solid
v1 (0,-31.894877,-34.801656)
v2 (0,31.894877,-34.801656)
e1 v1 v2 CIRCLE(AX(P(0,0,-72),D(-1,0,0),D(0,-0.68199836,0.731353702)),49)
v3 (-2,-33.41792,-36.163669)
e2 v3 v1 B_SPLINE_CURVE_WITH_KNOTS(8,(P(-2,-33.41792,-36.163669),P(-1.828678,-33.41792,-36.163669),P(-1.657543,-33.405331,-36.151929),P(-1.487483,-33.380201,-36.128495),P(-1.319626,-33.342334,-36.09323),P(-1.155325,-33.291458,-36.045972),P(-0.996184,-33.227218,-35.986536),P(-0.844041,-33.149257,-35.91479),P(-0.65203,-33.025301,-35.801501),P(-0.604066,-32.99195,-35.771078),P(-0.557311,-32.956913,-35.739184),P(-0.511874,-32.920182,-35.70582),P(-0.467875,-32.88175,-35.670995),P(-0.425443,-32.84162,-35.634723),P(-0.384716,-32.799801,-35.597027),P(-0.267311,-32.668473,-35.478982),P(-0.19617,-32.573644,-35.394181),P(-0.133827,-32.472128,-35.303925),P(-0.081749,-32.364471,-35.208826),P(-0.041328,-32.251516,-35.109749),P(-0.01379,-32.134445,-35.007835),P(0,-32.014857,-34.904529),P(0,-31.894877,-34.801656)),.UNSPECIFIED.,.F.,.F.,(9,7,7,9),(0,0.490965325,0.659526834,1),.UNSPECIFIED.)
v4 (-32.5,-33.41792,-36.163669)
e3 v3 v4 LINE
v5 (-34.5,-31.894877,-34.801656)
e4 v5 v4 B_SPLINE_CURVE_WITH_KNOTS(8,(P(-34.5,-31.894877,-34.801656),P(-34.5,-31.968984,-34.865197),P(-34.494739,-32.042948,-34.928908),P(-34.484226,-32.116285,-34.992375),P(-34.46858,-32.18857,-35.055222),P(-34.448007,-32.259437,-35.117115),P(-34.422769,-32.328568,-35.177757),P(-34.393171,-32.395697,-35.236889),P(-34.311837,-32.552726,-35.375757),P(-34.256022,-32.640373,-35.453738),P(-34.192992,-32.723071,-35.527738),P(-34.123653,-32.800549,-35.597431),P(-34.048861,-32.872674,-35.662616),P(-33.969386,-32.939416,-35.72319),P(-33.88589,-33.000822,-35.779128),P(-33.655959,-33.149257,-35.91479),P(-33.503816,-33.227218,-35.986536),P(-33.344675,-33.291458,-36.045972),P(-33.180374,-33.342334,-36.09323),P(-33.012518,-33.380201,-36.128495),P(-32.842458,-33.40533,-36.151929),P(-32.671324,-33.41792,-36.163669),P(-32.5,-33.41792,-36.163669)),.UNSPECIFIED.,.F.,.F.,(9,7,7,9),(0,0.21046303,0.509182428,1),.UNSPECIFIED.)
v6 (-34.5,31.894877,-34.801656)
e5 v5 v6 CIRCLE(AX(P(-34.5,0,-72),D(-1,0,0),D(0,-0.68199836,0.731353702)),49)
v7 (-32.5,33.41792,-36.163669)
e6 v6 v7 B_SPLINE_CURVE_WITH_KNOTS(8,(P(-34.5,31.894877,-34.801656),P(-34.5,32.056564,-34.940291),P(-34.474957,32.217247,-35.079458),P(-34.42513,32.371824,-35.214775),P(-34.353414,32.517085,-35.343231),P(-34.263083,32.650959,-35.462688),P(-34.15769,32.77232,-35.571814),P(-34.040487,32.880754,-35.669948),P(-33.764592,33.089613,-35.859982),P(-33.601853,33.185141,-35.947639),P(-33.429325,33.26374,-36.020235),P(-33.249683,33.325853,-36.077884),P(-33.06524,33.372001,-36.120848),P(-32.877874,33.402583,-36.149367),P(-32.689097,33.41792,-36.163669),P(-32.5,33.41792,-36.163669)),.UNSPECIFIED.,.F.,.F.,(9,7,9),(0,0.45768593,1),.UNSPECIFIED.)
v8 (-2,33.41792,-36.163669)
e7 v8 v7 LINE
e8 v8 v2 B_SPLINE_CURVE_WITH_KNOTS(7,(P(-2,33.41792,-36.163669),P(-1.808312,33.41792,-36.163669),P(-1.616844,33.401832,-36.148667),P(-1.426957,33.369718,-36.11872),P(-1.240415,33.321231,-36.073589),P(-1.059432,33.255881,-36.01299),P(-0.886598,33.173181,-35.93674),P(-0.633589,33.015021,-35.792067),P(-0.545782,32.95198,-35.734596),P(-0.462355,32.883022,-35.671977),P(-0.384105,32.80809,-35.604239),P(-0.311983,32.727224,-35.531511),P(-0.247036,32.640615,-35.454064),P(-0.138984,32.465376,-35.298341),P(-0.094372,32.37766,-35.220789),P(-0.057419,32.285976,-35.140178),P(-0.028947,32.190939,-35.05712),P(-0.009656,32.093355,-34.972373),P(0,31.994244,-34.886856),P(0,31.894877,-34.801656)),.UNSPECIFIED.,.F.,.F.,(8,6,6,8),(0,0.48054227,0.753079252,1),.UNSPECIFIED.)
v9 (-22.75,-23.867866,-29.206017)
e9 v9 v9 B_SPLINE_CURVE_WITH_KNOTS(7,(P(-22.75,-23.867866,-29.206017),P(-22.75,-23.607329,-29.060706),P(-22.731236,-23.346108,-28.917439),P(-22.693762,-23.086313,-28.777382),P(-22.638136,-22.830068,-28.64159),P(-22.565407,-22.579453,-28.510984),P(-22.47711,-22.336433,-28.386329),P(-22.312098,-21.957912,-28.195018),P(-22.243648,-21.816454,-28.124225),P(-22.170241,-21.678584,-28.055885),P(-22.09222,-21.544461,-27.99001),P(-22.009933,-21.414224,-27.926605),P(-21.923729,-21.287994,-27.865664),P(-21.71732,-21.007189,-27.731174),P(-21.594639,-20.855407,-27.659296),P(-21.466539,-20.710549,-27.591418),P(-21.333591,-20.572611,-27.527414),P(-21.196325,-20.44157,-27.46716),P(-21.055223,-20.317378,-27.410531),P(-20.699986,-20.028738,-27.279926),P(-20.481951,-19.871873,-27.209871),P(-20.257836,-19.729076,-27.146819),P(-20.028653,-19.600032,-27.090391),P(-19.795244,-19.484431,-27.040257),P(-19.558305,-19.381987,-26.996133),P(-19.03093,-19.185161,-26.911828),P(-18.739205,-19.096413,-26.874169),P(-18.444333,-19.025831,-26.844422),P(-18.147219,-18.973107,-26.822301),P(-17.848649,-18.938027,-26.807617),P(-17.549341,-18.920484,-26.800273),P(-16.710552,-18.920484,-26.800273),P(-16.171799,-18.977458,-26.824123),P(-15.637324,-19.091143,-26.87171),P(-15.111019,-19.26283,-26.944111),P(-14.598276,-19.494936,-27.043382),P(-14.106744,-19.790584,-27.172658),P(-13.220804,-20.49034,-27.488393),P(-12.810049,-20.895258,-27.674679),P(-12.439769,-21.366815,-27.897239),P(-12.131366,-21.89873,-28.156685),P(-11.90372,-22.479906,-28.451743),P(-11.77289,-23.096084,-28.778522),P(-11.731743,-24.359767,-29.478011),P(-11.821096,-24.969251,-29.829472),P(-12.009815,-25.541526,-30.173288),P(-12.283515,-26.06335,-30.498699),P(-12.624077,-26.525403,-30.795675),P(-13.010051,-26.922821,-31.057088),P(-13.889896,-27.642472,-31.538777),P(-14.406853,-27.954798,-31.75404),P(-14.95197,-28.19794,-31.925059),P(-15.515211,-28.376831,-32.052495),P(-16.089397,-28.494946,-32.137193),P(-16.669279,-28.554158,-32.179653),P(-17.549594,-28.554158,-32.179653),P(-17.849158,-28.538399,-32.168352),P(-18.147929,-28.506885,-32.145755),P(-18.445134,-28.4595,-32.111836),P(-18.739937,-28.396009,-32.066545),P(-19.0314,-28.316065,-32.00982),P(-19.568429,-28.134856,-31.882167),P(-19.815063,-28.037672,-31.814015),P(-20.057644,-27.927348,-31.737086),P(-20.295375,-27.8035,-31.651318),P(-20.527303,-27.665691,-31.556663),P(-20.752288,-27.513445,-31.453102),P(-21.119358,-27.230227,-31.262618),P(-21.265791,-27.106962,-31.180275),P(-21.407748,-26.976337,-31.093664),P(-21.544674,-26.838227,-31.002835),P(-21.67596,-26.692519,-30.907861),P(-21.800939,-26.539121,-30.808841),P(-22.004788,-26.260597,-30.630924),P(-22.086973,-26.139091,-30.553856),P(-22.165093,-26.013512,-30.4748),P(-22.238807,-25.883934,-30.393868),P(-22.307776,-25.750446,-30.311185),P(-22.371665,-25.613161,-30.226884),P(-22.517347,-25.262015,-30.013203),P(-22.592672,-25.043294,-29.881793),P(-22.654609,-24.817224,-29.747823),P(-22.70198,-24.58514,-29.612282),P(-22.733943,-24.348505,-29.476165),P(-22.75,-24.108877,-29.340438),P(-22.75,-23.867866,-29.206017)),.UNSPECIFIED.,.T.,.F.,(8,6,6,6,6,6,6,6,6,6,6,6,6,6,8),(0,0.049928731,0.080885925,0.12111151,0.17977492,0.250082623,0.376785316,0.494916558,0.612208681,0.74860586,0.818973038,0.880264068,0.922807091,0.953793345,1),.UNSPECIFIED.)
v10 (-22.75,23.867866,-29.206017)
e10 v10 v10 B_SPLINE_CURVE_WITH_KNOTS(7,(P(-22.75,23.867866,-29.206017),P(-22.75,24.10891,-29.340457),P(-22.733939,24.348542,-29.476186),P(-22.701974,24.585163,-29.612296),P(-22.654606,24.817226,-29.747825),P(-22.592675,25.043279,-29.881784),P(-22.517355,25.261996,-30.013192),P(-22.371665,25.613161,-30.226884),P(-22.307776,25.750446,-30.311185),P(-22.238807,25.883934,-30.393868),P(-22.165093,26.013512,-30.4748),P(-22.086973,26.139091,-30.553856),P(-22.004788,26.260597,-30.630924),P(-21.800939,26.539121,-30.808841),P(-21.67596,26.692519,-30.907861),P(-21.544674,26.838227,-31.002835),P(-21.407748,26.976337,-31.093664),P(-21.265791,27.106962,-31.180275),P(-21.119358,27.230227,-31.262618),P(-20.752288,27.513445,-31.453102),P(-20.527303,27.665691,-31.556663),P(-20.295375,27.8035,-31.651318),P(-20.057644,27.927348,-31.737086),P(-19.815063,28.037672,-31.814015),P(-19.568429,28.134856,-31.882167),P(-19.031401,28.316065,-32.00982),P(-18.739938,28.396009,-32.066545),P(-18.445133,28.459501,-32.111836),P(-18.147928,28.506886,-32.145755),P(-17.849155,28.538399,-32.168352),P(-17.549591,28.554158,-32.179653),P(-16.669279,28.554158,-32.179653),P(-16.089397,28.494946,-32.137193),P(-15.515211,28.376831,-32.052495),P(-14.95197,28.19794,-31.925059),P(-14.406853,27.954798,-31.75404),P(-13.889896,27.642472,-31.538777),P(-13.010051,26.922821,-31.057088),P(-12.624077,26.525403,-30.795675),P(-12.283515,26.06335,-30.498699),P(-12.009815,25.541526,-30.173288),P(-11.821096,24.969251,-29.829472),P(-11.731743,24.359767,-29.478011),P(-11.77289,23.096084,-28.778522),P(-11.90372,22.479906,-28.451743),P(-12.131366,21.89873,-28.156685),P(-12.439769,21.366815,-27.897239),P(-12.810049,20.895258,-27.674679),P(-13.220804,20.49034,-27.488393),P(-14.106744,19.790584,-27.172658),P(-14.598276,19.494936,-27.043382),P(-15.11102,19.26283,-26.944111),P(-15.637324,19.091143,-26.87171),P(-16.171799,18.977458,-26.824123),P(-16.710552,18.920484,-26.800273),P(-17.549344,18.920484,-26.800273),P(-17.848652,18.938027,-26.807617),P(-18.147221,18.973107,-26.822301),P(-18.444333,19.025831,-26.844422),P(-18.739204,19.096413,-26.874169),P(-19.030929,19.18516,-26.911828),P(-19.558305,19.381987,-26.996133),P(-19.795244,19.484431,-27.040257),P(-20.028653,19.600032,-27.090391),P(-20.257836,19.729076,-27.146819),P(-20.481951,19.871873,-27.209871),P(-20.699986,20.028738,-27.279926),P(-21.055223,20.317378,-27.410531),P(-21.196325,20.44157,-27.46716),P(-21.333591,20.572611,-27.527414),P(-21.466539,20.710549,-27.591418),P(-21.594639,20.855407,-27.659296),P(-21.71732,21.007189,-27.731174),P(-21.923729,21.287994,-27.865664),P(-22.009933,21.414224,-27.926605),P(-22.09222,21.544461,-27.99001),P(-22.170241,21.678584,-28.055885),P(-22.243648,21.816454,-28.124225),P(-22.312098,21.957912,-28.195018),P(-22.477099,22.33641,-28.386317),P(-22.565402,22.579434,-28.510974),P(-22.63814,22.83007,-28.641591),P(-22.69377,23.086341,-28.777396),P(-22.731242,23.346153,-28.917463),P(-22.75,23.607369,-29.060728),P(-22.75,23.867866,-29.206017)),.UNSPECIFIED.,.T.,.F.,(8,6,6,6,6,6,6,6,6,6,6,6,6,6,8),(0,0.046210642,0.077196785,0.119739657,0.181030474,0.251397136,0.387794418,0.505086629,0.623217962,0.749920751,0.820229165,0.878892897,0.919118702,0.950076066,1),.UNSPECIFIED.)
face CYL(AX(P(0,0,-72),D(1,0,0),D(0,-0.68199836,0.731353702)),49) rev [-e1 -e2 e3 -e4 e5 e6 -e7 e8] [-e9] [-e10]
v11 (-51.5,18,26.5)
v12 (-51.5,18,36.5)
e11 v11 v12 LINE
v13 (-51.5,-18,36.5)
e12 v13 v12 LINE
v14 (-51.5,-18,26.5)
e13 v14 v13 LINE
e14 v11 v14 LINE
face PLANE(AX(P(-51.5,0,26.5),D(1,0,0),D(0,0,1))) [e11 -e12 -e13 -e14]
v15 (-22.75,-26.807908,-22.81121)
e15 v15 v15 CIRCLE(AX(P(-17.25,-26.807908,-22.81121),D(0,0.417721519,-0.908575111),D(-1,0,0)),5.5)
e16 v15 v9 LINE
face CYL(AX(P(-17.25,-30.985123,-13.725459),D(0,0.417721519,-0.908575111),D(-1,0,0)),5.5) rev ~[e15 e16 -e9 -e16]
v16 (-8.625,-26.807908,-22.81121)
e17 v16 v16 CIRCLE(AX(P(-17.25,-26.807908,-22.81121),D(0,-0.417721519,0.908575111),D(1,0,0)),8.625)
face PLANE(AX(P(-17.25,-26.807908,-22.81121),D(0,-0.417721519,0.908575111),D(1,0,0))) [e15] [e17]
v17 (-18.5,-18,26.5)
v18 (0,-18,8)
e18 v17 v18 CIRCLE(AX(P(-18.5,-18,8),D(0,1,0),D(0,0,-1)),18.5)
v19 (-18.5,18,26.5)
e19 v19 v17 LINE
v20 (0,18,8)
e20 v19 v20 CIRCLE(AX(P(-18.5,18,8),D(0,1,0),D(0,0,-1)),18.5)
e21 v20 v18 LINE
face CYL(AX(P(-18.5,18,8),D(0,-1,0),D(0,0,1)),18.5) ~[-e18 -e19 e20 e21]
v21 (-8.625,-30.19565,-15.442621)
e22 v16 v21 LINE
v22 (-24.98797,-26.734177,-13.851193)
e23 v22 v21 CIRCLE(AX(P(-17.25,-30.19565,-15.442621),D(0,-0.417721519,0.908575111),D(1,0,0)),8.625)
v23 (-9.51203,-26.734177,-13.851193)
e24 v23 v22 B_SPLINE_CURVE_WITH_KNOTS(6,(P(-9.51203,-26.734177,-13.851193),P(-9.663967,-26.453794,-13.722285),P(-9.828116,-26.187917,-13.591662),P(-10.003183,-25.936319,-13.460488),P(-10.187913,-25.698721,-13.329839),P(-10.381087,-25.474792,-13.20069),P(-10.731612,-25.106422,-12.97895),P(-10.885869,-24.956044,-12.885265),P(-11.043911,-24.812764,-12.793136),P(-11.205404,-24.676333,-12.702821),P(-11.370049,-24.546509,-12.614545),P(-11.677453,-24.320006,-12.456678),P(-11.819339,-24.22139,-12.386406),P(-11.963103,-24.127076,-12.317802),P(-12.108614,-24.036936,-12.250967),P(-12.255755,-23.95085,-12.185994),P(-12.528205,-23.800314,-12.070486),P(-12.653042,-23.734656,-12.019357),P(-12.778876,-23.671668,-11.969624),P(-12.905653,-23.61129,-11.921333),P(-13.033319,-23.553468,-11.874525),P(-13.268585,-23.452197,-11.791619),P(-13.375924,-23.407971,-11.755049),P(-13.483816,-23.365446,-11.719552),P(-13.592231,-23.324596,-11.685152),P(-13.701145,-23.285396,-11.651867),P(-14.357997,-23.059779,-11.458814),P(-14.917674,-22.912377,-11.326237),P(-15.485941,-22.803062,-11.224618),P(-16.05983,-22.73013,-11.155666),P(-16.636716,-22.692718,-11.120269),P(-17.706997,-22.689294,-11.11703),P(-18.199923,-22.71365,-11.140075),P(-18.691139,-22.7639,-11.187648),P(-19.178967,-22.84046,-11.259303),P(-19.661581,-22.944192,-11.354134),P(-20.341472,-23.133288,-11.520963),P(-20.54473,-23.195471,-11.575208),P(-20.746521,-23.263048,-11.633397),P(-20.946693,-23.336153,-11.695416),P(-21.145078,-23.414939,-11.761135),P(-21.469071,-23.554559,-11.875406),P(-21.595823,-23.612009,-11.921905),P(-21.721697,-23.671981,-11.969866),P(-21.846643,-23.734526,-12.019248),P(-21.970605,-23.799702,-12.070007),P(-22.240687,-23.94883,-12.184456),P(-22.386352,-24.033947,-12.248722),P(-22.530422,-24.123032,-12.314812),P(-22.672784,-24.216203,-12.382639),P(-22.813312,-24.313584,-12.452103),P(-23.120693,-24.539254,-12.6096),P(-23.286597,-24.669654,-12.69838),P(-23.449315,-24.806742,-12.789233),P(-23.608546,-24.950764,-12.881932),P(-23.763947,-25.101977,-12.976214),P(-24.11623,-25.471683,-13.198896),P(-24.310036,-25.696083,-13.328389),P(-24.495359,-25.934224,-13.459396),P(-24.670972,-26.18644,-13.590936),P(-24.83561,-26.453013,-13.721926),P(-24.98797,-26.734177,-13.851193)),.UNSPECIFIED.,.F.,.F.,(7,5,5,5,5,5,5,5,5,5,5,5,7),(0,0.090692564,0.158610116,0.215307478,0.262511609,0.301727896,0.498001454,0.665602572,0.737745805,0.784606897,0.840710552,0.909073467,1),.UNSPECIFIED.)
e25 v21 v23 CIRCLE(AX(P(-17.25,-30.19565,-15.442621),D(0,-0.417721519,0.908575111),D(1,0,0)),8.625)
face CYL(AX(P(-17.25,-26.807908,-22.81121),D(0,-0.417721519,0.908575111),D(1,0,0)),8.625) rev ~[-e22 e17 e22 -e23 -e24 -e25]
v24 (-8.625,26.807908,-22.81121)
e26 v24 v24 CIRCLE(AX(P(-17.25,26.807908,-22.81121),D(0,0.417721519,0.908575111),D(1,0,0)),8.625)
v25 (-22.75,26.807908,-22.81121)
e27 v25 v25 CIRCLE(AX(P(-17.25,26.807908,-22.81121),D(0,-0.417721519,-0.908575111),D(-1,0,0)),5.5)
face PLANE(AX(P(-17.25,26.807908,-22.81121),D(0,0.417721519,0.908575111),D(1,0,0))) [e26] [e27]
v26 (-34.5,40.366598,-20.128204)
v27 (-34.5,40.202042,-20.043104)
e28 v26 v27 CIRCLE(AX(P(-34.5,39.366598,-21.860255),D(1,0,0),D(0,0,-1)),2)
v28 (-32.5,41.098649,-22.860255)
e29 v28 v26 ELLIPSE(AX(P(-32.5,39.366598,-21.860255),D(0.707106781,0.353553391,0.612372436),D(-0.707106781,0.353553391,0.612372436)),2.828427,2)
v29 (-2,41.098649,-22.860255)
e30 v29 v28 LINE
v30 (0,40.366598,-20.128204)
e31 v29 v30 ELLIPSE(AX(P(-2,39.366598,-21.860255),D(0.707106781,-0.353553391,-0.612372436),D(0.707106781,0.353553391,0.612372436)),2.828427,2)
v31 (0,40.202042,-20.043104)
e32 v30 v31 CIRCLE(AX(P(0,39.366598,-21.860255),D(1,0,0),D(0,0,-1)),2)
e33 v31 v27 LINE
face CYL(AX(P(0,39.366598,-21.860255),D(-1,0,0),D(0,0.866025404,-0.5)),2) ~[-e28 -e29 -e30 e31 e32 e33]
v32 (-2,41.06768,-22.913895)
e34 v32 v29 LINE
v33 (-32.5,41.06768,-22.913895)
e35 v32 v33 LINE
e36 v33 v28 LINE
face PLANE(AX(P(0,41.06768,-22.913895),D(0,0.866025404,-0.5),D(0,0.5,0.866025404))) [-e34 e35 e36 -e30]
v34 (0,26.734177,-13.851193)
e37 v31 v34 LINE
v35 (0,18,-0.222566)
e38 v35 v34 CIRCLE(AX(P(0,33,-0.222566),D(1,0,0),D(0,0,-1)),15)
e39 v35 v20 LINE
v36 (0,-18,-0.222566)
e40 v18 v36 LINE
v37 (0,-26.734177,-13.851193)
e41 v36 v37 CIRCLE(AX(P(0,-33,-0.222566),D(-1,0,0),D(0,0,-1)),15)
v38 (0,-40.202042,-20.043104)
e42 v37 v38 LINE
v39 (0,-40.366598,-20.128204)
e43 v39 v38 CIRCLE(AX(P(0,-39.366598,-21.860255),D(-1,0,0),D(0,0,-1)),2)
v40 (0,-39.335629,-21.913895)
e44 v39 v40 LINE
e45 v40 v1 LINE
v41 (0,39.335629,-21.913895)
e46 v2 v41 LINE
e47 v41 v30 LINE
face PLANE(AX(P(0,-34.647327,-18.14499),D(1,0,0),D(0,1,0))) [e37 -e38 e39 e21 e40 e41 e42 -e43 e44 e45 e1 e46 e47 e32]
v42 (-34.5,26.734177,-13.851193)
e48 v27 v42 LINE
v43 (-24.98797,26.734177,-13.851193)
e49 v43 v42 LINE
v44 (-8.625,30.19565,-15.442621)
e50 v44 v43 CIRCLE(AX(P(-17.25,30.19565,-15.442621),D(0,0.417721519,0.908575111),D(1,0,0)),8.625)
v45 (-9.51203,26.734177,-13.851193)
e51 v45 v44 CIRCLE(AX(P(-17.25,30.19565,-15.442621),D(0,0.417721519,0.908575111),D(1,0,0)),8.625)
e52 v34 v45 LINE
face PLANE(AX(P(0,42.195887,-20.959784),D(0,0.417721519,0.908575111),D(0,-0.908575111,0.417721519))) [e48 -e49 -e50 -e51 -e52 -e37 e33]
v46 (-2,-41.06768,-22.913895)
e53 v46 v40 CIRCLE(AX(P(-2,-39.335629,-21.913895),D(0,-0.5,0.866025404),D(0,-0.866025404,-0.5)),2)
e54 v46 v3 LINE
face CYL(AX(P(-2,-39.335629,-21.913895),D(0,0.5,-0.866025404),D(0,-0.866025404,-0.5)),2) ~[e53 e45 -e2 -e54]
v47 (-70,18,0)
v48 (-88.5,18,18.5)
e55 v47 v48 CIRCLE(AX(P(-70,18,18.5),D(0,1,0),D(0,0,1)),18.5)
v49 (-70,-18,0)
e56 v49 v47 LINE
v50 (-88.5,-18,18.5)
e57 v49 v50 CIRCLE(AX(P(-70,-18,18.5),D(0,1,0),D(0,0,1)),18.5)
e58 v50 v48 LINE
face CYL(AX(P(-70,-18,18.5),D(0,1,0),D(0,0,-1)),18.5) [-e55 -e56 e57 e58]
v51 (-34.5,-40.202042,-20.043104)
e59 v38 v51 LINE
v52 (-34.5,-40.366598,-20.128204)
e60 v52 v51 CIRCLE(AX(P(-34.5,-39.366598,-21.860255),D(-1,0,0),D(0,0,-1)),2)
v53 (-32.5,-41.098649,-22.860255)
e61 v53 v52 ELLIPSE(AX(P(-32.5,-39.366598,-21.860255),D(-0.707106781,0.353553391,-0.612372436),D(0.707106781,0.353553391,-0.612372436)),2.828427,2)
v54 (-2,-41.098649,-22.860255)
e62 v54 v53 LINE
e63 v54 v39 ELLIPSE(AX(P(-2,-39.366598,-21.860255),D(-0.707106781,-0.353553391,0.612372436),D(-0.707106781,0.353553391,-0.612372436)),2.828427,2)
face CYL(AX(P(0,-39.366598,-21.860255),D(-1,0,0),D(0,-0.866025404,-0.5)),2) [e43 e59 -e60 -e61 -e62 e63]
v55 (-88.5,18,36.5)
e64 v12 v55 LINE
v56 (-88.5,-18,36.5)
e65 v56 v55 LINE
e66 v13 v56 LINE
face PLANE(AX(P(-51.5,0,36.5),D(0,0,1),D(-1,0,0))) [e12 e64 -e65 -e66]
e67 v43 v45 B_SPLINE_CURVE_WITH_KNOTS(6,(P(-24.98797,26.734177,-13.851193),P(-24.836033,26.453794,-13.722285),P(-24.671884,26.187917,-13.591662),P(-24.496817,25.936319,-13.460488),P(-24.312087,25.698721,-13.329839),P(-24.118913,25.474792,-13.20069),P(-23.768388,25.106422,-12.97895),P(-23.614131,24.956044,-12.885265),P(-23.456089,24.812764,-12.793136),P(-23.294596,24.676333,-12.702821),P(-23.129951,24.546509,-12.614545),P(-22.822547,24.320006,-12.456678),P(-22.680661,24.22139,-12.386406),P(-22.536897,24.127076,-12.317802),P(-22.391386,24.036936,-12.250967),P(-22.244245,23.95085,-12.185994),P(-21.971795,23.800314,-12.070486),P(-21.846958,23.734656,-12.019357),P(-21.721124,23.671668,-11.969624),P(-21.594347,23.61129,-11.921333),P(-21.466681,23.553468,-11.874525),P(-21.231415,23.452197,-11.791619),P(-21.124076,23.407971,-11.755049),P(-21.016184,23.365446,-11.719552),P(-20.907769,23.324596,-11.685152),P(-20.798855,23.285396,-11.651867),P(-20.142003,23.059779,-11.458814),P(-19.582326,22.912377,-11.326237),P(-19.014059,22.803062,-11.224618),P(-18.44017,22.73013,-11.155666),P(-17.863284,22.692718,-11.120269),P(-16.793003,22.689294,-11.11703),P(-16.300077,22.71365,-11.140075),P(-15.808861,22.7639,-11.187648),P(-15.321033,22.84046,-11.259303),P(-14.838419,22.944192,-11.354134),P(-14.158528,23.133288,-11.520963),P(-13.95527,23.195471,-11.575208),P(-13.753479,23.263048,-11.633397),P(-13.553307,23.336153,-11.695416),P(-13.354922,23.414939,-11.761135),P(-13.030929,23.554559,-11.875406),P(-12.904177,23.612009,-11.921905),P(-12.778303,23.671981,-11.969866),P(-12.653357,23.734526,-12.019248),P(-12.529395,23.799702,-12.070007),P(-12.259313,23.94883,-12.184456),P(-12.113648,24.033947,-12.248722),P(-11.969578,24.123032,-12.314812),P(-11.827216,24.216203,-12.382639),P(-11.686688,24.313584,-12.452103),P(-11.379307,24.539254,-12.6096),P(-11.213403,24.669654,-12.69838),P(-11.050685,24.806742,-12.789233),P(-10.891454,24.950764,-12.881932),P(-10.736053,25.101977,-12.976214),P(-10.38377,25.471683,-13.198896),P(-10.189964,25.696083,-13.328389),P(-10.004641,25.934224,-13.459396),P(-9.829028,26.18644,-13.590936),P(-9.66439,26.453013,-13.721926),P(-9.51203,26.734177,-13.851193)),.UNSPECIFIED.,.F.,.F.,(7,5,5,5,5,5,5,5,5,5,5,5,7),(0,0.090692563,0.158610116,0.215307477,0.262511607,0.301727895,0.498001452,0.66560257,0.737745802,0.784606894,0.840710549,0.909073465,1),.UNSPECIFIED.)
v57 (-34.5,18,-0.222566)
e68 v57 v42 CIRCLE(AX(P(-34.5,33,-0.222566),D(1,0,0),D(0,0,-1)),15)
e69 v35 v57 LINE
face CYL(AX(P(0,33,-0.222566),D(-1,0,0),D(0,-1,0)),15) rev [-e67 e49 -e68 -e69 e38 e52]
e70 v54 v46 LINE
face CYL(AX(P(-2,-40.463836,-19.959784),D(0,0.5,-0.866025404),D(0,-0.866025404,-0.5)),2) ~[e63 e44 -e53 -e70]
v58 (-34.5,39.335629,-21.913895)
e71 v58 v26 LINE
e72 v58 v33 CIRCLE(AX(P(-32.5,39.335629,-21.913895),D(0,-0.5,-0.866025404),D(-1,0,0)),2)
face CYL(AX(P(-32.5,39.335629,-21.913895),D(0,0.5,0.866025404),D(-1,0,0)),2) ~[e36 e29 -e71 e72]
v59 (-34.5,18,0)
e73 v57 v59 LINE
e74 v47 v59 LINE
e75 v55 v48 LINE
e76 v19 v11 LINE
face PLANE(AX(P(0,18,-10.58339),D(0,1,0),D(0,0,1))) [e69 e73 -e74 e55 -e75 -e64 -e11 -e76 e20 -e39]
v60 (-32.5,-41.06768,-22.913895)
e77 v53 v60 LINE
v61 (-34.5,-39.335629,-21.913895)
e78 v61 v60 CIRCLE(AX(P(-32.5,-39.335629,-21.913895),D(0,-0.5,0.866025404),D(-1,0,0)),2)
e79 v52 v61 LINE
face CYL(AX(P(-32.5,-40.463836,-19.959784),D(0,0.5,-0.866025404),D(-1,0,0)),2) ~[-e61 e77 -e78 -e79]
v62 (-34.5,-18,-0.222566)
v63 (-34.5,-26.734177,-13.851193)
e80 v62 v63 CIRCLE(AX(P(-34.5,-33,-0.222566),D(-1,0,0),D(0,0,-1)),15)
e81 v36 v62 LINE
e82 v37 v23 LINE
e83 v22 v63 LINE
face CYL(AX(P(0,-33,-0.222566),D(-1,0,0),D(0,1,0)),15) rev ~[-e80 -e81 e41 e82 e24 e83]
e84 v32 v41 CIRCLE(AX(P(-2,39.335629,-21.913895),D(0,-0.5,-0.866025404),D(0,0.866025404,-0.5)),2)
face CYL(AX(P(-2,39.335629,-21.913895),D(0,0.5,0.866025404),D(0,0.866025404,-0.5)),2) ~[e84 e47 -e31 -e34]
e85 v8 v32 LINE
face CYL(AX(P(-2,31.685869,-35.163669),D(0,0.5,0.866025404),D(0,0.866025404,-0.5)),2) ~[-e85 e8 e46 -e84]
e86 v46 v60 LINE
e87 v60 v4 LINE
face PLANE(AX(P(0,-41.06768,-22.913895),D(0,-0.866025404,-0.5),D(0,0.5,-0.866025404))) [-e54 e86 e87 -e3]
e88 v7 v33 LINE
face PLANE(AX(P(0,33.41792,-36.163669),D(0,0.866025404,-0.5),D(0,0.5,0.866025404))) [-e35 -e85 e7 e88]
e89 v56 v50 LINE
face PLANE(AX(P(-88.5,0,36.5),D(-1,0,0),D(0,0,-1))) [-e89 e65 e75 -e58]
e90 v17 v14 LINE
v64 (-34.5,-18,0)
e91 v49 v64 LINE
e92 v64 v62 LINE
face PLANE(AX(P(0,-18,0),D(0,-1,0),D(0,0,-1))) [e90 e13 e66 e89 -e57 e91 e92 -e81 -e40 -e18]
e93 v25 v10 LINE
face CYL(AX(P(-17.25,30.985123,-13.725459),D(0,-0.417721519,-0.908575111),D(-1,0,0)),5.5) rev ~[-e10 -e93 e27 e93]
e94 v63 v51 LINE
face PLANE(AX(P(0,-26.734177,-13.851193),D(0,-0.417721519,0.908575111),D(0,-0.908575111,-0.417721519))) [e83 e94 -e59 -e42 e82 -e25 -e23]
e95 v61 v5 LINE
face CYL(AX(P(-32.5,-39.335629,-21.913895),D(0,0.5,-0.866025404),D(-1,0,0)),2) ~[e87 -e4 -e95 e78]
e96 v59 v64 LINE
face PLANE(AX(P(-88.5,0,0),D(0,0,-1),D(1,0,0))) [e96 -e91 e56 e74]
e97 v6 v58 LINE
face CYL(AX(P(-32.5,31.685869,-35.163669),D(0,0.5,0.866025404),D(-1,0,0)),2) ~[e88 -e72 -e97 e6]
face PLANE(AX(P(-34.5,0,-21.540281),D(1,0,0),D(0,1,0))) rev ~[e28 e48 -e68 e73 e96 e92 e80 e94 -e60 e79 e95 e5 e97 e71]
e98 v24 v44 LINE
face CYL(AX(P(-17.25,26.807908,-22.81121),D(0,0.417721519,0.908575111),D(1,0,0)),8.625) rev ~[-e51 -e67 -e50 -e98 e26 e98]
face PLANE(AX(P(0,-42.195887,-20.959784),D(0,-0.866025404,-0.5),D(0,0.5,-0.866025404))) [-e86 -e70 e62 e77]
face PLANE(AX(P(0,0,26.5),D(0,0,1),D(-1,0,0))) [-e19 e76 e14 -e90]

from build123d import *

# Parameters (mm, degrees)
F1_DEPTH        = 18
F2_R            = 18.5
F4_DEPTH        = 34.5
F5_R            = 15
F7_DEPTH        = 34.5
F11_D           = 11
F11_CBORE_D     = 17.25
F11_CBORE_DEPTH = 10
F14_D           = 11
F14_CBORE_D     = 17.25
F14_CBORE_DEPTH = 10
F15_R           = 2


with BuildPart() as f1:
    # F0 (on Front) → F1 (new body, symmetric)
    with BuildSketch(Plane.XZ):
        Polygon((-88.5, 0), (0, 0), (0, 26.5), (-51.5, 26.5), (-51.5, 36.5), (-88.5, 36.5), align=None)
    extrude(amount=F1_DEPTH, both=True)

    # F2
    f2_edges = [f1.edges().sort_by_distance(p)[0] for p in [
        (0, 0, 26.5),
        (-88.5, 0, 0),
    ]]
    fillet(f2_edges, radius=F2_R)

    # F3 (on face) → F4 (join)
    with BuildSketch(Plane.YZ):
        with BuildLine():
            Line((-41.0676798294, -22.9138953121), (-33.4179196431, -36.1636686207))
            ThreePointArc((-33.4179196431, -36.1636686207), (0, -23), (33.4179196431, -36.1636686207))
            Line((33.4179196431, -36.1636686207), (41.0676798294, -22.9138953121))
            ThreePointArc((41.0676798294, -22.9138953121), (30.1704829466, -15.557622669), (18, -10.5833898689))
            ThreePointArc((18, -10.5833898689), (0, -8), (-18, -10.5833898689))
            ThreePointArc((-18, -10.5833898689), (-30.1704829466, -15.557622669), (-41.0676798294, -22.9138953121))
        make_face()
        with BuildLine():
            Line((-18, 0), (-18, -10.5833898689))
            ThreePointArc((-18, -10.5833898689), (0, -8), (18, -10.5833898689))
            Line((18, -10.5833898689), (18, 0))
            Line((18, 0), (-18, 0))
        make_face()
    extrude(amount=-F4_DEPTH)

    # F5
    f5_edges = [f1.edges().sort_by_distance(p)[0] for p in [
        (-17.25, -18, -10.58339),
        (-17.25, 18, -10.58339),
    ]]
    fillet(f5_edges, radius=F5_R)

    # F6 (on face) → F7 (join)
    with BuildSketch(Plane.YZ):
        Polygon((-41.0676798294, -22.9138953121), (-26.7341772152, -13.8511928873), (-42.1958866534, -20.9597837716), align=None)
        Polygon((42.1958866534, -20.9597837716), (26.7341772152, -13.8511928873), (41.0676798294, -22.9138953121), align=None)
    extrude(amount=-F7_DEPTH)

    # F11 (through all)
    with Locations(Plane(origin=(0, -0.1973911234, 0.4293402511), x_dir=(1, 0, 0), z_dir=(0, -0.417721519, 0.9085751111))):
        with Locations((-17.25, -33.8857312325)):
            CounterBoreHole(F11_D / 2, F11_CBORE_D / 2, F11_CBORE_DEPTH)

    # F14 (through all)
    with Locations(Plane(origin=(0, 0.1973911234, 0.4293402511), x_dir=(1, 0, 0), z_dir=(0, 0.417721519, 0.9085751111))):
        with Locations((-17.25, 33.8857312325)):
            CounterBoreHole(F14_D / 2, F14_CBORE_D / 2, F14_CBORE_DEPTH)

    # F15
    f15_edges = [f1.edges().sort_by_distance(p)[0] for p in [
        (0, -37.806903, -28.561726),
        (-17.25, -42.195887, -20.959784),
        (-34.5, -37.806903, -28.561726),
        (-17.25, 42.195887, -20.959784),
        (0, 37.806903, -28.561726),
        (-34.5, 37.806903, -28.561726),
    ]]
    fillet(f15_edges, radius=F15_R)


solid = f1.part
